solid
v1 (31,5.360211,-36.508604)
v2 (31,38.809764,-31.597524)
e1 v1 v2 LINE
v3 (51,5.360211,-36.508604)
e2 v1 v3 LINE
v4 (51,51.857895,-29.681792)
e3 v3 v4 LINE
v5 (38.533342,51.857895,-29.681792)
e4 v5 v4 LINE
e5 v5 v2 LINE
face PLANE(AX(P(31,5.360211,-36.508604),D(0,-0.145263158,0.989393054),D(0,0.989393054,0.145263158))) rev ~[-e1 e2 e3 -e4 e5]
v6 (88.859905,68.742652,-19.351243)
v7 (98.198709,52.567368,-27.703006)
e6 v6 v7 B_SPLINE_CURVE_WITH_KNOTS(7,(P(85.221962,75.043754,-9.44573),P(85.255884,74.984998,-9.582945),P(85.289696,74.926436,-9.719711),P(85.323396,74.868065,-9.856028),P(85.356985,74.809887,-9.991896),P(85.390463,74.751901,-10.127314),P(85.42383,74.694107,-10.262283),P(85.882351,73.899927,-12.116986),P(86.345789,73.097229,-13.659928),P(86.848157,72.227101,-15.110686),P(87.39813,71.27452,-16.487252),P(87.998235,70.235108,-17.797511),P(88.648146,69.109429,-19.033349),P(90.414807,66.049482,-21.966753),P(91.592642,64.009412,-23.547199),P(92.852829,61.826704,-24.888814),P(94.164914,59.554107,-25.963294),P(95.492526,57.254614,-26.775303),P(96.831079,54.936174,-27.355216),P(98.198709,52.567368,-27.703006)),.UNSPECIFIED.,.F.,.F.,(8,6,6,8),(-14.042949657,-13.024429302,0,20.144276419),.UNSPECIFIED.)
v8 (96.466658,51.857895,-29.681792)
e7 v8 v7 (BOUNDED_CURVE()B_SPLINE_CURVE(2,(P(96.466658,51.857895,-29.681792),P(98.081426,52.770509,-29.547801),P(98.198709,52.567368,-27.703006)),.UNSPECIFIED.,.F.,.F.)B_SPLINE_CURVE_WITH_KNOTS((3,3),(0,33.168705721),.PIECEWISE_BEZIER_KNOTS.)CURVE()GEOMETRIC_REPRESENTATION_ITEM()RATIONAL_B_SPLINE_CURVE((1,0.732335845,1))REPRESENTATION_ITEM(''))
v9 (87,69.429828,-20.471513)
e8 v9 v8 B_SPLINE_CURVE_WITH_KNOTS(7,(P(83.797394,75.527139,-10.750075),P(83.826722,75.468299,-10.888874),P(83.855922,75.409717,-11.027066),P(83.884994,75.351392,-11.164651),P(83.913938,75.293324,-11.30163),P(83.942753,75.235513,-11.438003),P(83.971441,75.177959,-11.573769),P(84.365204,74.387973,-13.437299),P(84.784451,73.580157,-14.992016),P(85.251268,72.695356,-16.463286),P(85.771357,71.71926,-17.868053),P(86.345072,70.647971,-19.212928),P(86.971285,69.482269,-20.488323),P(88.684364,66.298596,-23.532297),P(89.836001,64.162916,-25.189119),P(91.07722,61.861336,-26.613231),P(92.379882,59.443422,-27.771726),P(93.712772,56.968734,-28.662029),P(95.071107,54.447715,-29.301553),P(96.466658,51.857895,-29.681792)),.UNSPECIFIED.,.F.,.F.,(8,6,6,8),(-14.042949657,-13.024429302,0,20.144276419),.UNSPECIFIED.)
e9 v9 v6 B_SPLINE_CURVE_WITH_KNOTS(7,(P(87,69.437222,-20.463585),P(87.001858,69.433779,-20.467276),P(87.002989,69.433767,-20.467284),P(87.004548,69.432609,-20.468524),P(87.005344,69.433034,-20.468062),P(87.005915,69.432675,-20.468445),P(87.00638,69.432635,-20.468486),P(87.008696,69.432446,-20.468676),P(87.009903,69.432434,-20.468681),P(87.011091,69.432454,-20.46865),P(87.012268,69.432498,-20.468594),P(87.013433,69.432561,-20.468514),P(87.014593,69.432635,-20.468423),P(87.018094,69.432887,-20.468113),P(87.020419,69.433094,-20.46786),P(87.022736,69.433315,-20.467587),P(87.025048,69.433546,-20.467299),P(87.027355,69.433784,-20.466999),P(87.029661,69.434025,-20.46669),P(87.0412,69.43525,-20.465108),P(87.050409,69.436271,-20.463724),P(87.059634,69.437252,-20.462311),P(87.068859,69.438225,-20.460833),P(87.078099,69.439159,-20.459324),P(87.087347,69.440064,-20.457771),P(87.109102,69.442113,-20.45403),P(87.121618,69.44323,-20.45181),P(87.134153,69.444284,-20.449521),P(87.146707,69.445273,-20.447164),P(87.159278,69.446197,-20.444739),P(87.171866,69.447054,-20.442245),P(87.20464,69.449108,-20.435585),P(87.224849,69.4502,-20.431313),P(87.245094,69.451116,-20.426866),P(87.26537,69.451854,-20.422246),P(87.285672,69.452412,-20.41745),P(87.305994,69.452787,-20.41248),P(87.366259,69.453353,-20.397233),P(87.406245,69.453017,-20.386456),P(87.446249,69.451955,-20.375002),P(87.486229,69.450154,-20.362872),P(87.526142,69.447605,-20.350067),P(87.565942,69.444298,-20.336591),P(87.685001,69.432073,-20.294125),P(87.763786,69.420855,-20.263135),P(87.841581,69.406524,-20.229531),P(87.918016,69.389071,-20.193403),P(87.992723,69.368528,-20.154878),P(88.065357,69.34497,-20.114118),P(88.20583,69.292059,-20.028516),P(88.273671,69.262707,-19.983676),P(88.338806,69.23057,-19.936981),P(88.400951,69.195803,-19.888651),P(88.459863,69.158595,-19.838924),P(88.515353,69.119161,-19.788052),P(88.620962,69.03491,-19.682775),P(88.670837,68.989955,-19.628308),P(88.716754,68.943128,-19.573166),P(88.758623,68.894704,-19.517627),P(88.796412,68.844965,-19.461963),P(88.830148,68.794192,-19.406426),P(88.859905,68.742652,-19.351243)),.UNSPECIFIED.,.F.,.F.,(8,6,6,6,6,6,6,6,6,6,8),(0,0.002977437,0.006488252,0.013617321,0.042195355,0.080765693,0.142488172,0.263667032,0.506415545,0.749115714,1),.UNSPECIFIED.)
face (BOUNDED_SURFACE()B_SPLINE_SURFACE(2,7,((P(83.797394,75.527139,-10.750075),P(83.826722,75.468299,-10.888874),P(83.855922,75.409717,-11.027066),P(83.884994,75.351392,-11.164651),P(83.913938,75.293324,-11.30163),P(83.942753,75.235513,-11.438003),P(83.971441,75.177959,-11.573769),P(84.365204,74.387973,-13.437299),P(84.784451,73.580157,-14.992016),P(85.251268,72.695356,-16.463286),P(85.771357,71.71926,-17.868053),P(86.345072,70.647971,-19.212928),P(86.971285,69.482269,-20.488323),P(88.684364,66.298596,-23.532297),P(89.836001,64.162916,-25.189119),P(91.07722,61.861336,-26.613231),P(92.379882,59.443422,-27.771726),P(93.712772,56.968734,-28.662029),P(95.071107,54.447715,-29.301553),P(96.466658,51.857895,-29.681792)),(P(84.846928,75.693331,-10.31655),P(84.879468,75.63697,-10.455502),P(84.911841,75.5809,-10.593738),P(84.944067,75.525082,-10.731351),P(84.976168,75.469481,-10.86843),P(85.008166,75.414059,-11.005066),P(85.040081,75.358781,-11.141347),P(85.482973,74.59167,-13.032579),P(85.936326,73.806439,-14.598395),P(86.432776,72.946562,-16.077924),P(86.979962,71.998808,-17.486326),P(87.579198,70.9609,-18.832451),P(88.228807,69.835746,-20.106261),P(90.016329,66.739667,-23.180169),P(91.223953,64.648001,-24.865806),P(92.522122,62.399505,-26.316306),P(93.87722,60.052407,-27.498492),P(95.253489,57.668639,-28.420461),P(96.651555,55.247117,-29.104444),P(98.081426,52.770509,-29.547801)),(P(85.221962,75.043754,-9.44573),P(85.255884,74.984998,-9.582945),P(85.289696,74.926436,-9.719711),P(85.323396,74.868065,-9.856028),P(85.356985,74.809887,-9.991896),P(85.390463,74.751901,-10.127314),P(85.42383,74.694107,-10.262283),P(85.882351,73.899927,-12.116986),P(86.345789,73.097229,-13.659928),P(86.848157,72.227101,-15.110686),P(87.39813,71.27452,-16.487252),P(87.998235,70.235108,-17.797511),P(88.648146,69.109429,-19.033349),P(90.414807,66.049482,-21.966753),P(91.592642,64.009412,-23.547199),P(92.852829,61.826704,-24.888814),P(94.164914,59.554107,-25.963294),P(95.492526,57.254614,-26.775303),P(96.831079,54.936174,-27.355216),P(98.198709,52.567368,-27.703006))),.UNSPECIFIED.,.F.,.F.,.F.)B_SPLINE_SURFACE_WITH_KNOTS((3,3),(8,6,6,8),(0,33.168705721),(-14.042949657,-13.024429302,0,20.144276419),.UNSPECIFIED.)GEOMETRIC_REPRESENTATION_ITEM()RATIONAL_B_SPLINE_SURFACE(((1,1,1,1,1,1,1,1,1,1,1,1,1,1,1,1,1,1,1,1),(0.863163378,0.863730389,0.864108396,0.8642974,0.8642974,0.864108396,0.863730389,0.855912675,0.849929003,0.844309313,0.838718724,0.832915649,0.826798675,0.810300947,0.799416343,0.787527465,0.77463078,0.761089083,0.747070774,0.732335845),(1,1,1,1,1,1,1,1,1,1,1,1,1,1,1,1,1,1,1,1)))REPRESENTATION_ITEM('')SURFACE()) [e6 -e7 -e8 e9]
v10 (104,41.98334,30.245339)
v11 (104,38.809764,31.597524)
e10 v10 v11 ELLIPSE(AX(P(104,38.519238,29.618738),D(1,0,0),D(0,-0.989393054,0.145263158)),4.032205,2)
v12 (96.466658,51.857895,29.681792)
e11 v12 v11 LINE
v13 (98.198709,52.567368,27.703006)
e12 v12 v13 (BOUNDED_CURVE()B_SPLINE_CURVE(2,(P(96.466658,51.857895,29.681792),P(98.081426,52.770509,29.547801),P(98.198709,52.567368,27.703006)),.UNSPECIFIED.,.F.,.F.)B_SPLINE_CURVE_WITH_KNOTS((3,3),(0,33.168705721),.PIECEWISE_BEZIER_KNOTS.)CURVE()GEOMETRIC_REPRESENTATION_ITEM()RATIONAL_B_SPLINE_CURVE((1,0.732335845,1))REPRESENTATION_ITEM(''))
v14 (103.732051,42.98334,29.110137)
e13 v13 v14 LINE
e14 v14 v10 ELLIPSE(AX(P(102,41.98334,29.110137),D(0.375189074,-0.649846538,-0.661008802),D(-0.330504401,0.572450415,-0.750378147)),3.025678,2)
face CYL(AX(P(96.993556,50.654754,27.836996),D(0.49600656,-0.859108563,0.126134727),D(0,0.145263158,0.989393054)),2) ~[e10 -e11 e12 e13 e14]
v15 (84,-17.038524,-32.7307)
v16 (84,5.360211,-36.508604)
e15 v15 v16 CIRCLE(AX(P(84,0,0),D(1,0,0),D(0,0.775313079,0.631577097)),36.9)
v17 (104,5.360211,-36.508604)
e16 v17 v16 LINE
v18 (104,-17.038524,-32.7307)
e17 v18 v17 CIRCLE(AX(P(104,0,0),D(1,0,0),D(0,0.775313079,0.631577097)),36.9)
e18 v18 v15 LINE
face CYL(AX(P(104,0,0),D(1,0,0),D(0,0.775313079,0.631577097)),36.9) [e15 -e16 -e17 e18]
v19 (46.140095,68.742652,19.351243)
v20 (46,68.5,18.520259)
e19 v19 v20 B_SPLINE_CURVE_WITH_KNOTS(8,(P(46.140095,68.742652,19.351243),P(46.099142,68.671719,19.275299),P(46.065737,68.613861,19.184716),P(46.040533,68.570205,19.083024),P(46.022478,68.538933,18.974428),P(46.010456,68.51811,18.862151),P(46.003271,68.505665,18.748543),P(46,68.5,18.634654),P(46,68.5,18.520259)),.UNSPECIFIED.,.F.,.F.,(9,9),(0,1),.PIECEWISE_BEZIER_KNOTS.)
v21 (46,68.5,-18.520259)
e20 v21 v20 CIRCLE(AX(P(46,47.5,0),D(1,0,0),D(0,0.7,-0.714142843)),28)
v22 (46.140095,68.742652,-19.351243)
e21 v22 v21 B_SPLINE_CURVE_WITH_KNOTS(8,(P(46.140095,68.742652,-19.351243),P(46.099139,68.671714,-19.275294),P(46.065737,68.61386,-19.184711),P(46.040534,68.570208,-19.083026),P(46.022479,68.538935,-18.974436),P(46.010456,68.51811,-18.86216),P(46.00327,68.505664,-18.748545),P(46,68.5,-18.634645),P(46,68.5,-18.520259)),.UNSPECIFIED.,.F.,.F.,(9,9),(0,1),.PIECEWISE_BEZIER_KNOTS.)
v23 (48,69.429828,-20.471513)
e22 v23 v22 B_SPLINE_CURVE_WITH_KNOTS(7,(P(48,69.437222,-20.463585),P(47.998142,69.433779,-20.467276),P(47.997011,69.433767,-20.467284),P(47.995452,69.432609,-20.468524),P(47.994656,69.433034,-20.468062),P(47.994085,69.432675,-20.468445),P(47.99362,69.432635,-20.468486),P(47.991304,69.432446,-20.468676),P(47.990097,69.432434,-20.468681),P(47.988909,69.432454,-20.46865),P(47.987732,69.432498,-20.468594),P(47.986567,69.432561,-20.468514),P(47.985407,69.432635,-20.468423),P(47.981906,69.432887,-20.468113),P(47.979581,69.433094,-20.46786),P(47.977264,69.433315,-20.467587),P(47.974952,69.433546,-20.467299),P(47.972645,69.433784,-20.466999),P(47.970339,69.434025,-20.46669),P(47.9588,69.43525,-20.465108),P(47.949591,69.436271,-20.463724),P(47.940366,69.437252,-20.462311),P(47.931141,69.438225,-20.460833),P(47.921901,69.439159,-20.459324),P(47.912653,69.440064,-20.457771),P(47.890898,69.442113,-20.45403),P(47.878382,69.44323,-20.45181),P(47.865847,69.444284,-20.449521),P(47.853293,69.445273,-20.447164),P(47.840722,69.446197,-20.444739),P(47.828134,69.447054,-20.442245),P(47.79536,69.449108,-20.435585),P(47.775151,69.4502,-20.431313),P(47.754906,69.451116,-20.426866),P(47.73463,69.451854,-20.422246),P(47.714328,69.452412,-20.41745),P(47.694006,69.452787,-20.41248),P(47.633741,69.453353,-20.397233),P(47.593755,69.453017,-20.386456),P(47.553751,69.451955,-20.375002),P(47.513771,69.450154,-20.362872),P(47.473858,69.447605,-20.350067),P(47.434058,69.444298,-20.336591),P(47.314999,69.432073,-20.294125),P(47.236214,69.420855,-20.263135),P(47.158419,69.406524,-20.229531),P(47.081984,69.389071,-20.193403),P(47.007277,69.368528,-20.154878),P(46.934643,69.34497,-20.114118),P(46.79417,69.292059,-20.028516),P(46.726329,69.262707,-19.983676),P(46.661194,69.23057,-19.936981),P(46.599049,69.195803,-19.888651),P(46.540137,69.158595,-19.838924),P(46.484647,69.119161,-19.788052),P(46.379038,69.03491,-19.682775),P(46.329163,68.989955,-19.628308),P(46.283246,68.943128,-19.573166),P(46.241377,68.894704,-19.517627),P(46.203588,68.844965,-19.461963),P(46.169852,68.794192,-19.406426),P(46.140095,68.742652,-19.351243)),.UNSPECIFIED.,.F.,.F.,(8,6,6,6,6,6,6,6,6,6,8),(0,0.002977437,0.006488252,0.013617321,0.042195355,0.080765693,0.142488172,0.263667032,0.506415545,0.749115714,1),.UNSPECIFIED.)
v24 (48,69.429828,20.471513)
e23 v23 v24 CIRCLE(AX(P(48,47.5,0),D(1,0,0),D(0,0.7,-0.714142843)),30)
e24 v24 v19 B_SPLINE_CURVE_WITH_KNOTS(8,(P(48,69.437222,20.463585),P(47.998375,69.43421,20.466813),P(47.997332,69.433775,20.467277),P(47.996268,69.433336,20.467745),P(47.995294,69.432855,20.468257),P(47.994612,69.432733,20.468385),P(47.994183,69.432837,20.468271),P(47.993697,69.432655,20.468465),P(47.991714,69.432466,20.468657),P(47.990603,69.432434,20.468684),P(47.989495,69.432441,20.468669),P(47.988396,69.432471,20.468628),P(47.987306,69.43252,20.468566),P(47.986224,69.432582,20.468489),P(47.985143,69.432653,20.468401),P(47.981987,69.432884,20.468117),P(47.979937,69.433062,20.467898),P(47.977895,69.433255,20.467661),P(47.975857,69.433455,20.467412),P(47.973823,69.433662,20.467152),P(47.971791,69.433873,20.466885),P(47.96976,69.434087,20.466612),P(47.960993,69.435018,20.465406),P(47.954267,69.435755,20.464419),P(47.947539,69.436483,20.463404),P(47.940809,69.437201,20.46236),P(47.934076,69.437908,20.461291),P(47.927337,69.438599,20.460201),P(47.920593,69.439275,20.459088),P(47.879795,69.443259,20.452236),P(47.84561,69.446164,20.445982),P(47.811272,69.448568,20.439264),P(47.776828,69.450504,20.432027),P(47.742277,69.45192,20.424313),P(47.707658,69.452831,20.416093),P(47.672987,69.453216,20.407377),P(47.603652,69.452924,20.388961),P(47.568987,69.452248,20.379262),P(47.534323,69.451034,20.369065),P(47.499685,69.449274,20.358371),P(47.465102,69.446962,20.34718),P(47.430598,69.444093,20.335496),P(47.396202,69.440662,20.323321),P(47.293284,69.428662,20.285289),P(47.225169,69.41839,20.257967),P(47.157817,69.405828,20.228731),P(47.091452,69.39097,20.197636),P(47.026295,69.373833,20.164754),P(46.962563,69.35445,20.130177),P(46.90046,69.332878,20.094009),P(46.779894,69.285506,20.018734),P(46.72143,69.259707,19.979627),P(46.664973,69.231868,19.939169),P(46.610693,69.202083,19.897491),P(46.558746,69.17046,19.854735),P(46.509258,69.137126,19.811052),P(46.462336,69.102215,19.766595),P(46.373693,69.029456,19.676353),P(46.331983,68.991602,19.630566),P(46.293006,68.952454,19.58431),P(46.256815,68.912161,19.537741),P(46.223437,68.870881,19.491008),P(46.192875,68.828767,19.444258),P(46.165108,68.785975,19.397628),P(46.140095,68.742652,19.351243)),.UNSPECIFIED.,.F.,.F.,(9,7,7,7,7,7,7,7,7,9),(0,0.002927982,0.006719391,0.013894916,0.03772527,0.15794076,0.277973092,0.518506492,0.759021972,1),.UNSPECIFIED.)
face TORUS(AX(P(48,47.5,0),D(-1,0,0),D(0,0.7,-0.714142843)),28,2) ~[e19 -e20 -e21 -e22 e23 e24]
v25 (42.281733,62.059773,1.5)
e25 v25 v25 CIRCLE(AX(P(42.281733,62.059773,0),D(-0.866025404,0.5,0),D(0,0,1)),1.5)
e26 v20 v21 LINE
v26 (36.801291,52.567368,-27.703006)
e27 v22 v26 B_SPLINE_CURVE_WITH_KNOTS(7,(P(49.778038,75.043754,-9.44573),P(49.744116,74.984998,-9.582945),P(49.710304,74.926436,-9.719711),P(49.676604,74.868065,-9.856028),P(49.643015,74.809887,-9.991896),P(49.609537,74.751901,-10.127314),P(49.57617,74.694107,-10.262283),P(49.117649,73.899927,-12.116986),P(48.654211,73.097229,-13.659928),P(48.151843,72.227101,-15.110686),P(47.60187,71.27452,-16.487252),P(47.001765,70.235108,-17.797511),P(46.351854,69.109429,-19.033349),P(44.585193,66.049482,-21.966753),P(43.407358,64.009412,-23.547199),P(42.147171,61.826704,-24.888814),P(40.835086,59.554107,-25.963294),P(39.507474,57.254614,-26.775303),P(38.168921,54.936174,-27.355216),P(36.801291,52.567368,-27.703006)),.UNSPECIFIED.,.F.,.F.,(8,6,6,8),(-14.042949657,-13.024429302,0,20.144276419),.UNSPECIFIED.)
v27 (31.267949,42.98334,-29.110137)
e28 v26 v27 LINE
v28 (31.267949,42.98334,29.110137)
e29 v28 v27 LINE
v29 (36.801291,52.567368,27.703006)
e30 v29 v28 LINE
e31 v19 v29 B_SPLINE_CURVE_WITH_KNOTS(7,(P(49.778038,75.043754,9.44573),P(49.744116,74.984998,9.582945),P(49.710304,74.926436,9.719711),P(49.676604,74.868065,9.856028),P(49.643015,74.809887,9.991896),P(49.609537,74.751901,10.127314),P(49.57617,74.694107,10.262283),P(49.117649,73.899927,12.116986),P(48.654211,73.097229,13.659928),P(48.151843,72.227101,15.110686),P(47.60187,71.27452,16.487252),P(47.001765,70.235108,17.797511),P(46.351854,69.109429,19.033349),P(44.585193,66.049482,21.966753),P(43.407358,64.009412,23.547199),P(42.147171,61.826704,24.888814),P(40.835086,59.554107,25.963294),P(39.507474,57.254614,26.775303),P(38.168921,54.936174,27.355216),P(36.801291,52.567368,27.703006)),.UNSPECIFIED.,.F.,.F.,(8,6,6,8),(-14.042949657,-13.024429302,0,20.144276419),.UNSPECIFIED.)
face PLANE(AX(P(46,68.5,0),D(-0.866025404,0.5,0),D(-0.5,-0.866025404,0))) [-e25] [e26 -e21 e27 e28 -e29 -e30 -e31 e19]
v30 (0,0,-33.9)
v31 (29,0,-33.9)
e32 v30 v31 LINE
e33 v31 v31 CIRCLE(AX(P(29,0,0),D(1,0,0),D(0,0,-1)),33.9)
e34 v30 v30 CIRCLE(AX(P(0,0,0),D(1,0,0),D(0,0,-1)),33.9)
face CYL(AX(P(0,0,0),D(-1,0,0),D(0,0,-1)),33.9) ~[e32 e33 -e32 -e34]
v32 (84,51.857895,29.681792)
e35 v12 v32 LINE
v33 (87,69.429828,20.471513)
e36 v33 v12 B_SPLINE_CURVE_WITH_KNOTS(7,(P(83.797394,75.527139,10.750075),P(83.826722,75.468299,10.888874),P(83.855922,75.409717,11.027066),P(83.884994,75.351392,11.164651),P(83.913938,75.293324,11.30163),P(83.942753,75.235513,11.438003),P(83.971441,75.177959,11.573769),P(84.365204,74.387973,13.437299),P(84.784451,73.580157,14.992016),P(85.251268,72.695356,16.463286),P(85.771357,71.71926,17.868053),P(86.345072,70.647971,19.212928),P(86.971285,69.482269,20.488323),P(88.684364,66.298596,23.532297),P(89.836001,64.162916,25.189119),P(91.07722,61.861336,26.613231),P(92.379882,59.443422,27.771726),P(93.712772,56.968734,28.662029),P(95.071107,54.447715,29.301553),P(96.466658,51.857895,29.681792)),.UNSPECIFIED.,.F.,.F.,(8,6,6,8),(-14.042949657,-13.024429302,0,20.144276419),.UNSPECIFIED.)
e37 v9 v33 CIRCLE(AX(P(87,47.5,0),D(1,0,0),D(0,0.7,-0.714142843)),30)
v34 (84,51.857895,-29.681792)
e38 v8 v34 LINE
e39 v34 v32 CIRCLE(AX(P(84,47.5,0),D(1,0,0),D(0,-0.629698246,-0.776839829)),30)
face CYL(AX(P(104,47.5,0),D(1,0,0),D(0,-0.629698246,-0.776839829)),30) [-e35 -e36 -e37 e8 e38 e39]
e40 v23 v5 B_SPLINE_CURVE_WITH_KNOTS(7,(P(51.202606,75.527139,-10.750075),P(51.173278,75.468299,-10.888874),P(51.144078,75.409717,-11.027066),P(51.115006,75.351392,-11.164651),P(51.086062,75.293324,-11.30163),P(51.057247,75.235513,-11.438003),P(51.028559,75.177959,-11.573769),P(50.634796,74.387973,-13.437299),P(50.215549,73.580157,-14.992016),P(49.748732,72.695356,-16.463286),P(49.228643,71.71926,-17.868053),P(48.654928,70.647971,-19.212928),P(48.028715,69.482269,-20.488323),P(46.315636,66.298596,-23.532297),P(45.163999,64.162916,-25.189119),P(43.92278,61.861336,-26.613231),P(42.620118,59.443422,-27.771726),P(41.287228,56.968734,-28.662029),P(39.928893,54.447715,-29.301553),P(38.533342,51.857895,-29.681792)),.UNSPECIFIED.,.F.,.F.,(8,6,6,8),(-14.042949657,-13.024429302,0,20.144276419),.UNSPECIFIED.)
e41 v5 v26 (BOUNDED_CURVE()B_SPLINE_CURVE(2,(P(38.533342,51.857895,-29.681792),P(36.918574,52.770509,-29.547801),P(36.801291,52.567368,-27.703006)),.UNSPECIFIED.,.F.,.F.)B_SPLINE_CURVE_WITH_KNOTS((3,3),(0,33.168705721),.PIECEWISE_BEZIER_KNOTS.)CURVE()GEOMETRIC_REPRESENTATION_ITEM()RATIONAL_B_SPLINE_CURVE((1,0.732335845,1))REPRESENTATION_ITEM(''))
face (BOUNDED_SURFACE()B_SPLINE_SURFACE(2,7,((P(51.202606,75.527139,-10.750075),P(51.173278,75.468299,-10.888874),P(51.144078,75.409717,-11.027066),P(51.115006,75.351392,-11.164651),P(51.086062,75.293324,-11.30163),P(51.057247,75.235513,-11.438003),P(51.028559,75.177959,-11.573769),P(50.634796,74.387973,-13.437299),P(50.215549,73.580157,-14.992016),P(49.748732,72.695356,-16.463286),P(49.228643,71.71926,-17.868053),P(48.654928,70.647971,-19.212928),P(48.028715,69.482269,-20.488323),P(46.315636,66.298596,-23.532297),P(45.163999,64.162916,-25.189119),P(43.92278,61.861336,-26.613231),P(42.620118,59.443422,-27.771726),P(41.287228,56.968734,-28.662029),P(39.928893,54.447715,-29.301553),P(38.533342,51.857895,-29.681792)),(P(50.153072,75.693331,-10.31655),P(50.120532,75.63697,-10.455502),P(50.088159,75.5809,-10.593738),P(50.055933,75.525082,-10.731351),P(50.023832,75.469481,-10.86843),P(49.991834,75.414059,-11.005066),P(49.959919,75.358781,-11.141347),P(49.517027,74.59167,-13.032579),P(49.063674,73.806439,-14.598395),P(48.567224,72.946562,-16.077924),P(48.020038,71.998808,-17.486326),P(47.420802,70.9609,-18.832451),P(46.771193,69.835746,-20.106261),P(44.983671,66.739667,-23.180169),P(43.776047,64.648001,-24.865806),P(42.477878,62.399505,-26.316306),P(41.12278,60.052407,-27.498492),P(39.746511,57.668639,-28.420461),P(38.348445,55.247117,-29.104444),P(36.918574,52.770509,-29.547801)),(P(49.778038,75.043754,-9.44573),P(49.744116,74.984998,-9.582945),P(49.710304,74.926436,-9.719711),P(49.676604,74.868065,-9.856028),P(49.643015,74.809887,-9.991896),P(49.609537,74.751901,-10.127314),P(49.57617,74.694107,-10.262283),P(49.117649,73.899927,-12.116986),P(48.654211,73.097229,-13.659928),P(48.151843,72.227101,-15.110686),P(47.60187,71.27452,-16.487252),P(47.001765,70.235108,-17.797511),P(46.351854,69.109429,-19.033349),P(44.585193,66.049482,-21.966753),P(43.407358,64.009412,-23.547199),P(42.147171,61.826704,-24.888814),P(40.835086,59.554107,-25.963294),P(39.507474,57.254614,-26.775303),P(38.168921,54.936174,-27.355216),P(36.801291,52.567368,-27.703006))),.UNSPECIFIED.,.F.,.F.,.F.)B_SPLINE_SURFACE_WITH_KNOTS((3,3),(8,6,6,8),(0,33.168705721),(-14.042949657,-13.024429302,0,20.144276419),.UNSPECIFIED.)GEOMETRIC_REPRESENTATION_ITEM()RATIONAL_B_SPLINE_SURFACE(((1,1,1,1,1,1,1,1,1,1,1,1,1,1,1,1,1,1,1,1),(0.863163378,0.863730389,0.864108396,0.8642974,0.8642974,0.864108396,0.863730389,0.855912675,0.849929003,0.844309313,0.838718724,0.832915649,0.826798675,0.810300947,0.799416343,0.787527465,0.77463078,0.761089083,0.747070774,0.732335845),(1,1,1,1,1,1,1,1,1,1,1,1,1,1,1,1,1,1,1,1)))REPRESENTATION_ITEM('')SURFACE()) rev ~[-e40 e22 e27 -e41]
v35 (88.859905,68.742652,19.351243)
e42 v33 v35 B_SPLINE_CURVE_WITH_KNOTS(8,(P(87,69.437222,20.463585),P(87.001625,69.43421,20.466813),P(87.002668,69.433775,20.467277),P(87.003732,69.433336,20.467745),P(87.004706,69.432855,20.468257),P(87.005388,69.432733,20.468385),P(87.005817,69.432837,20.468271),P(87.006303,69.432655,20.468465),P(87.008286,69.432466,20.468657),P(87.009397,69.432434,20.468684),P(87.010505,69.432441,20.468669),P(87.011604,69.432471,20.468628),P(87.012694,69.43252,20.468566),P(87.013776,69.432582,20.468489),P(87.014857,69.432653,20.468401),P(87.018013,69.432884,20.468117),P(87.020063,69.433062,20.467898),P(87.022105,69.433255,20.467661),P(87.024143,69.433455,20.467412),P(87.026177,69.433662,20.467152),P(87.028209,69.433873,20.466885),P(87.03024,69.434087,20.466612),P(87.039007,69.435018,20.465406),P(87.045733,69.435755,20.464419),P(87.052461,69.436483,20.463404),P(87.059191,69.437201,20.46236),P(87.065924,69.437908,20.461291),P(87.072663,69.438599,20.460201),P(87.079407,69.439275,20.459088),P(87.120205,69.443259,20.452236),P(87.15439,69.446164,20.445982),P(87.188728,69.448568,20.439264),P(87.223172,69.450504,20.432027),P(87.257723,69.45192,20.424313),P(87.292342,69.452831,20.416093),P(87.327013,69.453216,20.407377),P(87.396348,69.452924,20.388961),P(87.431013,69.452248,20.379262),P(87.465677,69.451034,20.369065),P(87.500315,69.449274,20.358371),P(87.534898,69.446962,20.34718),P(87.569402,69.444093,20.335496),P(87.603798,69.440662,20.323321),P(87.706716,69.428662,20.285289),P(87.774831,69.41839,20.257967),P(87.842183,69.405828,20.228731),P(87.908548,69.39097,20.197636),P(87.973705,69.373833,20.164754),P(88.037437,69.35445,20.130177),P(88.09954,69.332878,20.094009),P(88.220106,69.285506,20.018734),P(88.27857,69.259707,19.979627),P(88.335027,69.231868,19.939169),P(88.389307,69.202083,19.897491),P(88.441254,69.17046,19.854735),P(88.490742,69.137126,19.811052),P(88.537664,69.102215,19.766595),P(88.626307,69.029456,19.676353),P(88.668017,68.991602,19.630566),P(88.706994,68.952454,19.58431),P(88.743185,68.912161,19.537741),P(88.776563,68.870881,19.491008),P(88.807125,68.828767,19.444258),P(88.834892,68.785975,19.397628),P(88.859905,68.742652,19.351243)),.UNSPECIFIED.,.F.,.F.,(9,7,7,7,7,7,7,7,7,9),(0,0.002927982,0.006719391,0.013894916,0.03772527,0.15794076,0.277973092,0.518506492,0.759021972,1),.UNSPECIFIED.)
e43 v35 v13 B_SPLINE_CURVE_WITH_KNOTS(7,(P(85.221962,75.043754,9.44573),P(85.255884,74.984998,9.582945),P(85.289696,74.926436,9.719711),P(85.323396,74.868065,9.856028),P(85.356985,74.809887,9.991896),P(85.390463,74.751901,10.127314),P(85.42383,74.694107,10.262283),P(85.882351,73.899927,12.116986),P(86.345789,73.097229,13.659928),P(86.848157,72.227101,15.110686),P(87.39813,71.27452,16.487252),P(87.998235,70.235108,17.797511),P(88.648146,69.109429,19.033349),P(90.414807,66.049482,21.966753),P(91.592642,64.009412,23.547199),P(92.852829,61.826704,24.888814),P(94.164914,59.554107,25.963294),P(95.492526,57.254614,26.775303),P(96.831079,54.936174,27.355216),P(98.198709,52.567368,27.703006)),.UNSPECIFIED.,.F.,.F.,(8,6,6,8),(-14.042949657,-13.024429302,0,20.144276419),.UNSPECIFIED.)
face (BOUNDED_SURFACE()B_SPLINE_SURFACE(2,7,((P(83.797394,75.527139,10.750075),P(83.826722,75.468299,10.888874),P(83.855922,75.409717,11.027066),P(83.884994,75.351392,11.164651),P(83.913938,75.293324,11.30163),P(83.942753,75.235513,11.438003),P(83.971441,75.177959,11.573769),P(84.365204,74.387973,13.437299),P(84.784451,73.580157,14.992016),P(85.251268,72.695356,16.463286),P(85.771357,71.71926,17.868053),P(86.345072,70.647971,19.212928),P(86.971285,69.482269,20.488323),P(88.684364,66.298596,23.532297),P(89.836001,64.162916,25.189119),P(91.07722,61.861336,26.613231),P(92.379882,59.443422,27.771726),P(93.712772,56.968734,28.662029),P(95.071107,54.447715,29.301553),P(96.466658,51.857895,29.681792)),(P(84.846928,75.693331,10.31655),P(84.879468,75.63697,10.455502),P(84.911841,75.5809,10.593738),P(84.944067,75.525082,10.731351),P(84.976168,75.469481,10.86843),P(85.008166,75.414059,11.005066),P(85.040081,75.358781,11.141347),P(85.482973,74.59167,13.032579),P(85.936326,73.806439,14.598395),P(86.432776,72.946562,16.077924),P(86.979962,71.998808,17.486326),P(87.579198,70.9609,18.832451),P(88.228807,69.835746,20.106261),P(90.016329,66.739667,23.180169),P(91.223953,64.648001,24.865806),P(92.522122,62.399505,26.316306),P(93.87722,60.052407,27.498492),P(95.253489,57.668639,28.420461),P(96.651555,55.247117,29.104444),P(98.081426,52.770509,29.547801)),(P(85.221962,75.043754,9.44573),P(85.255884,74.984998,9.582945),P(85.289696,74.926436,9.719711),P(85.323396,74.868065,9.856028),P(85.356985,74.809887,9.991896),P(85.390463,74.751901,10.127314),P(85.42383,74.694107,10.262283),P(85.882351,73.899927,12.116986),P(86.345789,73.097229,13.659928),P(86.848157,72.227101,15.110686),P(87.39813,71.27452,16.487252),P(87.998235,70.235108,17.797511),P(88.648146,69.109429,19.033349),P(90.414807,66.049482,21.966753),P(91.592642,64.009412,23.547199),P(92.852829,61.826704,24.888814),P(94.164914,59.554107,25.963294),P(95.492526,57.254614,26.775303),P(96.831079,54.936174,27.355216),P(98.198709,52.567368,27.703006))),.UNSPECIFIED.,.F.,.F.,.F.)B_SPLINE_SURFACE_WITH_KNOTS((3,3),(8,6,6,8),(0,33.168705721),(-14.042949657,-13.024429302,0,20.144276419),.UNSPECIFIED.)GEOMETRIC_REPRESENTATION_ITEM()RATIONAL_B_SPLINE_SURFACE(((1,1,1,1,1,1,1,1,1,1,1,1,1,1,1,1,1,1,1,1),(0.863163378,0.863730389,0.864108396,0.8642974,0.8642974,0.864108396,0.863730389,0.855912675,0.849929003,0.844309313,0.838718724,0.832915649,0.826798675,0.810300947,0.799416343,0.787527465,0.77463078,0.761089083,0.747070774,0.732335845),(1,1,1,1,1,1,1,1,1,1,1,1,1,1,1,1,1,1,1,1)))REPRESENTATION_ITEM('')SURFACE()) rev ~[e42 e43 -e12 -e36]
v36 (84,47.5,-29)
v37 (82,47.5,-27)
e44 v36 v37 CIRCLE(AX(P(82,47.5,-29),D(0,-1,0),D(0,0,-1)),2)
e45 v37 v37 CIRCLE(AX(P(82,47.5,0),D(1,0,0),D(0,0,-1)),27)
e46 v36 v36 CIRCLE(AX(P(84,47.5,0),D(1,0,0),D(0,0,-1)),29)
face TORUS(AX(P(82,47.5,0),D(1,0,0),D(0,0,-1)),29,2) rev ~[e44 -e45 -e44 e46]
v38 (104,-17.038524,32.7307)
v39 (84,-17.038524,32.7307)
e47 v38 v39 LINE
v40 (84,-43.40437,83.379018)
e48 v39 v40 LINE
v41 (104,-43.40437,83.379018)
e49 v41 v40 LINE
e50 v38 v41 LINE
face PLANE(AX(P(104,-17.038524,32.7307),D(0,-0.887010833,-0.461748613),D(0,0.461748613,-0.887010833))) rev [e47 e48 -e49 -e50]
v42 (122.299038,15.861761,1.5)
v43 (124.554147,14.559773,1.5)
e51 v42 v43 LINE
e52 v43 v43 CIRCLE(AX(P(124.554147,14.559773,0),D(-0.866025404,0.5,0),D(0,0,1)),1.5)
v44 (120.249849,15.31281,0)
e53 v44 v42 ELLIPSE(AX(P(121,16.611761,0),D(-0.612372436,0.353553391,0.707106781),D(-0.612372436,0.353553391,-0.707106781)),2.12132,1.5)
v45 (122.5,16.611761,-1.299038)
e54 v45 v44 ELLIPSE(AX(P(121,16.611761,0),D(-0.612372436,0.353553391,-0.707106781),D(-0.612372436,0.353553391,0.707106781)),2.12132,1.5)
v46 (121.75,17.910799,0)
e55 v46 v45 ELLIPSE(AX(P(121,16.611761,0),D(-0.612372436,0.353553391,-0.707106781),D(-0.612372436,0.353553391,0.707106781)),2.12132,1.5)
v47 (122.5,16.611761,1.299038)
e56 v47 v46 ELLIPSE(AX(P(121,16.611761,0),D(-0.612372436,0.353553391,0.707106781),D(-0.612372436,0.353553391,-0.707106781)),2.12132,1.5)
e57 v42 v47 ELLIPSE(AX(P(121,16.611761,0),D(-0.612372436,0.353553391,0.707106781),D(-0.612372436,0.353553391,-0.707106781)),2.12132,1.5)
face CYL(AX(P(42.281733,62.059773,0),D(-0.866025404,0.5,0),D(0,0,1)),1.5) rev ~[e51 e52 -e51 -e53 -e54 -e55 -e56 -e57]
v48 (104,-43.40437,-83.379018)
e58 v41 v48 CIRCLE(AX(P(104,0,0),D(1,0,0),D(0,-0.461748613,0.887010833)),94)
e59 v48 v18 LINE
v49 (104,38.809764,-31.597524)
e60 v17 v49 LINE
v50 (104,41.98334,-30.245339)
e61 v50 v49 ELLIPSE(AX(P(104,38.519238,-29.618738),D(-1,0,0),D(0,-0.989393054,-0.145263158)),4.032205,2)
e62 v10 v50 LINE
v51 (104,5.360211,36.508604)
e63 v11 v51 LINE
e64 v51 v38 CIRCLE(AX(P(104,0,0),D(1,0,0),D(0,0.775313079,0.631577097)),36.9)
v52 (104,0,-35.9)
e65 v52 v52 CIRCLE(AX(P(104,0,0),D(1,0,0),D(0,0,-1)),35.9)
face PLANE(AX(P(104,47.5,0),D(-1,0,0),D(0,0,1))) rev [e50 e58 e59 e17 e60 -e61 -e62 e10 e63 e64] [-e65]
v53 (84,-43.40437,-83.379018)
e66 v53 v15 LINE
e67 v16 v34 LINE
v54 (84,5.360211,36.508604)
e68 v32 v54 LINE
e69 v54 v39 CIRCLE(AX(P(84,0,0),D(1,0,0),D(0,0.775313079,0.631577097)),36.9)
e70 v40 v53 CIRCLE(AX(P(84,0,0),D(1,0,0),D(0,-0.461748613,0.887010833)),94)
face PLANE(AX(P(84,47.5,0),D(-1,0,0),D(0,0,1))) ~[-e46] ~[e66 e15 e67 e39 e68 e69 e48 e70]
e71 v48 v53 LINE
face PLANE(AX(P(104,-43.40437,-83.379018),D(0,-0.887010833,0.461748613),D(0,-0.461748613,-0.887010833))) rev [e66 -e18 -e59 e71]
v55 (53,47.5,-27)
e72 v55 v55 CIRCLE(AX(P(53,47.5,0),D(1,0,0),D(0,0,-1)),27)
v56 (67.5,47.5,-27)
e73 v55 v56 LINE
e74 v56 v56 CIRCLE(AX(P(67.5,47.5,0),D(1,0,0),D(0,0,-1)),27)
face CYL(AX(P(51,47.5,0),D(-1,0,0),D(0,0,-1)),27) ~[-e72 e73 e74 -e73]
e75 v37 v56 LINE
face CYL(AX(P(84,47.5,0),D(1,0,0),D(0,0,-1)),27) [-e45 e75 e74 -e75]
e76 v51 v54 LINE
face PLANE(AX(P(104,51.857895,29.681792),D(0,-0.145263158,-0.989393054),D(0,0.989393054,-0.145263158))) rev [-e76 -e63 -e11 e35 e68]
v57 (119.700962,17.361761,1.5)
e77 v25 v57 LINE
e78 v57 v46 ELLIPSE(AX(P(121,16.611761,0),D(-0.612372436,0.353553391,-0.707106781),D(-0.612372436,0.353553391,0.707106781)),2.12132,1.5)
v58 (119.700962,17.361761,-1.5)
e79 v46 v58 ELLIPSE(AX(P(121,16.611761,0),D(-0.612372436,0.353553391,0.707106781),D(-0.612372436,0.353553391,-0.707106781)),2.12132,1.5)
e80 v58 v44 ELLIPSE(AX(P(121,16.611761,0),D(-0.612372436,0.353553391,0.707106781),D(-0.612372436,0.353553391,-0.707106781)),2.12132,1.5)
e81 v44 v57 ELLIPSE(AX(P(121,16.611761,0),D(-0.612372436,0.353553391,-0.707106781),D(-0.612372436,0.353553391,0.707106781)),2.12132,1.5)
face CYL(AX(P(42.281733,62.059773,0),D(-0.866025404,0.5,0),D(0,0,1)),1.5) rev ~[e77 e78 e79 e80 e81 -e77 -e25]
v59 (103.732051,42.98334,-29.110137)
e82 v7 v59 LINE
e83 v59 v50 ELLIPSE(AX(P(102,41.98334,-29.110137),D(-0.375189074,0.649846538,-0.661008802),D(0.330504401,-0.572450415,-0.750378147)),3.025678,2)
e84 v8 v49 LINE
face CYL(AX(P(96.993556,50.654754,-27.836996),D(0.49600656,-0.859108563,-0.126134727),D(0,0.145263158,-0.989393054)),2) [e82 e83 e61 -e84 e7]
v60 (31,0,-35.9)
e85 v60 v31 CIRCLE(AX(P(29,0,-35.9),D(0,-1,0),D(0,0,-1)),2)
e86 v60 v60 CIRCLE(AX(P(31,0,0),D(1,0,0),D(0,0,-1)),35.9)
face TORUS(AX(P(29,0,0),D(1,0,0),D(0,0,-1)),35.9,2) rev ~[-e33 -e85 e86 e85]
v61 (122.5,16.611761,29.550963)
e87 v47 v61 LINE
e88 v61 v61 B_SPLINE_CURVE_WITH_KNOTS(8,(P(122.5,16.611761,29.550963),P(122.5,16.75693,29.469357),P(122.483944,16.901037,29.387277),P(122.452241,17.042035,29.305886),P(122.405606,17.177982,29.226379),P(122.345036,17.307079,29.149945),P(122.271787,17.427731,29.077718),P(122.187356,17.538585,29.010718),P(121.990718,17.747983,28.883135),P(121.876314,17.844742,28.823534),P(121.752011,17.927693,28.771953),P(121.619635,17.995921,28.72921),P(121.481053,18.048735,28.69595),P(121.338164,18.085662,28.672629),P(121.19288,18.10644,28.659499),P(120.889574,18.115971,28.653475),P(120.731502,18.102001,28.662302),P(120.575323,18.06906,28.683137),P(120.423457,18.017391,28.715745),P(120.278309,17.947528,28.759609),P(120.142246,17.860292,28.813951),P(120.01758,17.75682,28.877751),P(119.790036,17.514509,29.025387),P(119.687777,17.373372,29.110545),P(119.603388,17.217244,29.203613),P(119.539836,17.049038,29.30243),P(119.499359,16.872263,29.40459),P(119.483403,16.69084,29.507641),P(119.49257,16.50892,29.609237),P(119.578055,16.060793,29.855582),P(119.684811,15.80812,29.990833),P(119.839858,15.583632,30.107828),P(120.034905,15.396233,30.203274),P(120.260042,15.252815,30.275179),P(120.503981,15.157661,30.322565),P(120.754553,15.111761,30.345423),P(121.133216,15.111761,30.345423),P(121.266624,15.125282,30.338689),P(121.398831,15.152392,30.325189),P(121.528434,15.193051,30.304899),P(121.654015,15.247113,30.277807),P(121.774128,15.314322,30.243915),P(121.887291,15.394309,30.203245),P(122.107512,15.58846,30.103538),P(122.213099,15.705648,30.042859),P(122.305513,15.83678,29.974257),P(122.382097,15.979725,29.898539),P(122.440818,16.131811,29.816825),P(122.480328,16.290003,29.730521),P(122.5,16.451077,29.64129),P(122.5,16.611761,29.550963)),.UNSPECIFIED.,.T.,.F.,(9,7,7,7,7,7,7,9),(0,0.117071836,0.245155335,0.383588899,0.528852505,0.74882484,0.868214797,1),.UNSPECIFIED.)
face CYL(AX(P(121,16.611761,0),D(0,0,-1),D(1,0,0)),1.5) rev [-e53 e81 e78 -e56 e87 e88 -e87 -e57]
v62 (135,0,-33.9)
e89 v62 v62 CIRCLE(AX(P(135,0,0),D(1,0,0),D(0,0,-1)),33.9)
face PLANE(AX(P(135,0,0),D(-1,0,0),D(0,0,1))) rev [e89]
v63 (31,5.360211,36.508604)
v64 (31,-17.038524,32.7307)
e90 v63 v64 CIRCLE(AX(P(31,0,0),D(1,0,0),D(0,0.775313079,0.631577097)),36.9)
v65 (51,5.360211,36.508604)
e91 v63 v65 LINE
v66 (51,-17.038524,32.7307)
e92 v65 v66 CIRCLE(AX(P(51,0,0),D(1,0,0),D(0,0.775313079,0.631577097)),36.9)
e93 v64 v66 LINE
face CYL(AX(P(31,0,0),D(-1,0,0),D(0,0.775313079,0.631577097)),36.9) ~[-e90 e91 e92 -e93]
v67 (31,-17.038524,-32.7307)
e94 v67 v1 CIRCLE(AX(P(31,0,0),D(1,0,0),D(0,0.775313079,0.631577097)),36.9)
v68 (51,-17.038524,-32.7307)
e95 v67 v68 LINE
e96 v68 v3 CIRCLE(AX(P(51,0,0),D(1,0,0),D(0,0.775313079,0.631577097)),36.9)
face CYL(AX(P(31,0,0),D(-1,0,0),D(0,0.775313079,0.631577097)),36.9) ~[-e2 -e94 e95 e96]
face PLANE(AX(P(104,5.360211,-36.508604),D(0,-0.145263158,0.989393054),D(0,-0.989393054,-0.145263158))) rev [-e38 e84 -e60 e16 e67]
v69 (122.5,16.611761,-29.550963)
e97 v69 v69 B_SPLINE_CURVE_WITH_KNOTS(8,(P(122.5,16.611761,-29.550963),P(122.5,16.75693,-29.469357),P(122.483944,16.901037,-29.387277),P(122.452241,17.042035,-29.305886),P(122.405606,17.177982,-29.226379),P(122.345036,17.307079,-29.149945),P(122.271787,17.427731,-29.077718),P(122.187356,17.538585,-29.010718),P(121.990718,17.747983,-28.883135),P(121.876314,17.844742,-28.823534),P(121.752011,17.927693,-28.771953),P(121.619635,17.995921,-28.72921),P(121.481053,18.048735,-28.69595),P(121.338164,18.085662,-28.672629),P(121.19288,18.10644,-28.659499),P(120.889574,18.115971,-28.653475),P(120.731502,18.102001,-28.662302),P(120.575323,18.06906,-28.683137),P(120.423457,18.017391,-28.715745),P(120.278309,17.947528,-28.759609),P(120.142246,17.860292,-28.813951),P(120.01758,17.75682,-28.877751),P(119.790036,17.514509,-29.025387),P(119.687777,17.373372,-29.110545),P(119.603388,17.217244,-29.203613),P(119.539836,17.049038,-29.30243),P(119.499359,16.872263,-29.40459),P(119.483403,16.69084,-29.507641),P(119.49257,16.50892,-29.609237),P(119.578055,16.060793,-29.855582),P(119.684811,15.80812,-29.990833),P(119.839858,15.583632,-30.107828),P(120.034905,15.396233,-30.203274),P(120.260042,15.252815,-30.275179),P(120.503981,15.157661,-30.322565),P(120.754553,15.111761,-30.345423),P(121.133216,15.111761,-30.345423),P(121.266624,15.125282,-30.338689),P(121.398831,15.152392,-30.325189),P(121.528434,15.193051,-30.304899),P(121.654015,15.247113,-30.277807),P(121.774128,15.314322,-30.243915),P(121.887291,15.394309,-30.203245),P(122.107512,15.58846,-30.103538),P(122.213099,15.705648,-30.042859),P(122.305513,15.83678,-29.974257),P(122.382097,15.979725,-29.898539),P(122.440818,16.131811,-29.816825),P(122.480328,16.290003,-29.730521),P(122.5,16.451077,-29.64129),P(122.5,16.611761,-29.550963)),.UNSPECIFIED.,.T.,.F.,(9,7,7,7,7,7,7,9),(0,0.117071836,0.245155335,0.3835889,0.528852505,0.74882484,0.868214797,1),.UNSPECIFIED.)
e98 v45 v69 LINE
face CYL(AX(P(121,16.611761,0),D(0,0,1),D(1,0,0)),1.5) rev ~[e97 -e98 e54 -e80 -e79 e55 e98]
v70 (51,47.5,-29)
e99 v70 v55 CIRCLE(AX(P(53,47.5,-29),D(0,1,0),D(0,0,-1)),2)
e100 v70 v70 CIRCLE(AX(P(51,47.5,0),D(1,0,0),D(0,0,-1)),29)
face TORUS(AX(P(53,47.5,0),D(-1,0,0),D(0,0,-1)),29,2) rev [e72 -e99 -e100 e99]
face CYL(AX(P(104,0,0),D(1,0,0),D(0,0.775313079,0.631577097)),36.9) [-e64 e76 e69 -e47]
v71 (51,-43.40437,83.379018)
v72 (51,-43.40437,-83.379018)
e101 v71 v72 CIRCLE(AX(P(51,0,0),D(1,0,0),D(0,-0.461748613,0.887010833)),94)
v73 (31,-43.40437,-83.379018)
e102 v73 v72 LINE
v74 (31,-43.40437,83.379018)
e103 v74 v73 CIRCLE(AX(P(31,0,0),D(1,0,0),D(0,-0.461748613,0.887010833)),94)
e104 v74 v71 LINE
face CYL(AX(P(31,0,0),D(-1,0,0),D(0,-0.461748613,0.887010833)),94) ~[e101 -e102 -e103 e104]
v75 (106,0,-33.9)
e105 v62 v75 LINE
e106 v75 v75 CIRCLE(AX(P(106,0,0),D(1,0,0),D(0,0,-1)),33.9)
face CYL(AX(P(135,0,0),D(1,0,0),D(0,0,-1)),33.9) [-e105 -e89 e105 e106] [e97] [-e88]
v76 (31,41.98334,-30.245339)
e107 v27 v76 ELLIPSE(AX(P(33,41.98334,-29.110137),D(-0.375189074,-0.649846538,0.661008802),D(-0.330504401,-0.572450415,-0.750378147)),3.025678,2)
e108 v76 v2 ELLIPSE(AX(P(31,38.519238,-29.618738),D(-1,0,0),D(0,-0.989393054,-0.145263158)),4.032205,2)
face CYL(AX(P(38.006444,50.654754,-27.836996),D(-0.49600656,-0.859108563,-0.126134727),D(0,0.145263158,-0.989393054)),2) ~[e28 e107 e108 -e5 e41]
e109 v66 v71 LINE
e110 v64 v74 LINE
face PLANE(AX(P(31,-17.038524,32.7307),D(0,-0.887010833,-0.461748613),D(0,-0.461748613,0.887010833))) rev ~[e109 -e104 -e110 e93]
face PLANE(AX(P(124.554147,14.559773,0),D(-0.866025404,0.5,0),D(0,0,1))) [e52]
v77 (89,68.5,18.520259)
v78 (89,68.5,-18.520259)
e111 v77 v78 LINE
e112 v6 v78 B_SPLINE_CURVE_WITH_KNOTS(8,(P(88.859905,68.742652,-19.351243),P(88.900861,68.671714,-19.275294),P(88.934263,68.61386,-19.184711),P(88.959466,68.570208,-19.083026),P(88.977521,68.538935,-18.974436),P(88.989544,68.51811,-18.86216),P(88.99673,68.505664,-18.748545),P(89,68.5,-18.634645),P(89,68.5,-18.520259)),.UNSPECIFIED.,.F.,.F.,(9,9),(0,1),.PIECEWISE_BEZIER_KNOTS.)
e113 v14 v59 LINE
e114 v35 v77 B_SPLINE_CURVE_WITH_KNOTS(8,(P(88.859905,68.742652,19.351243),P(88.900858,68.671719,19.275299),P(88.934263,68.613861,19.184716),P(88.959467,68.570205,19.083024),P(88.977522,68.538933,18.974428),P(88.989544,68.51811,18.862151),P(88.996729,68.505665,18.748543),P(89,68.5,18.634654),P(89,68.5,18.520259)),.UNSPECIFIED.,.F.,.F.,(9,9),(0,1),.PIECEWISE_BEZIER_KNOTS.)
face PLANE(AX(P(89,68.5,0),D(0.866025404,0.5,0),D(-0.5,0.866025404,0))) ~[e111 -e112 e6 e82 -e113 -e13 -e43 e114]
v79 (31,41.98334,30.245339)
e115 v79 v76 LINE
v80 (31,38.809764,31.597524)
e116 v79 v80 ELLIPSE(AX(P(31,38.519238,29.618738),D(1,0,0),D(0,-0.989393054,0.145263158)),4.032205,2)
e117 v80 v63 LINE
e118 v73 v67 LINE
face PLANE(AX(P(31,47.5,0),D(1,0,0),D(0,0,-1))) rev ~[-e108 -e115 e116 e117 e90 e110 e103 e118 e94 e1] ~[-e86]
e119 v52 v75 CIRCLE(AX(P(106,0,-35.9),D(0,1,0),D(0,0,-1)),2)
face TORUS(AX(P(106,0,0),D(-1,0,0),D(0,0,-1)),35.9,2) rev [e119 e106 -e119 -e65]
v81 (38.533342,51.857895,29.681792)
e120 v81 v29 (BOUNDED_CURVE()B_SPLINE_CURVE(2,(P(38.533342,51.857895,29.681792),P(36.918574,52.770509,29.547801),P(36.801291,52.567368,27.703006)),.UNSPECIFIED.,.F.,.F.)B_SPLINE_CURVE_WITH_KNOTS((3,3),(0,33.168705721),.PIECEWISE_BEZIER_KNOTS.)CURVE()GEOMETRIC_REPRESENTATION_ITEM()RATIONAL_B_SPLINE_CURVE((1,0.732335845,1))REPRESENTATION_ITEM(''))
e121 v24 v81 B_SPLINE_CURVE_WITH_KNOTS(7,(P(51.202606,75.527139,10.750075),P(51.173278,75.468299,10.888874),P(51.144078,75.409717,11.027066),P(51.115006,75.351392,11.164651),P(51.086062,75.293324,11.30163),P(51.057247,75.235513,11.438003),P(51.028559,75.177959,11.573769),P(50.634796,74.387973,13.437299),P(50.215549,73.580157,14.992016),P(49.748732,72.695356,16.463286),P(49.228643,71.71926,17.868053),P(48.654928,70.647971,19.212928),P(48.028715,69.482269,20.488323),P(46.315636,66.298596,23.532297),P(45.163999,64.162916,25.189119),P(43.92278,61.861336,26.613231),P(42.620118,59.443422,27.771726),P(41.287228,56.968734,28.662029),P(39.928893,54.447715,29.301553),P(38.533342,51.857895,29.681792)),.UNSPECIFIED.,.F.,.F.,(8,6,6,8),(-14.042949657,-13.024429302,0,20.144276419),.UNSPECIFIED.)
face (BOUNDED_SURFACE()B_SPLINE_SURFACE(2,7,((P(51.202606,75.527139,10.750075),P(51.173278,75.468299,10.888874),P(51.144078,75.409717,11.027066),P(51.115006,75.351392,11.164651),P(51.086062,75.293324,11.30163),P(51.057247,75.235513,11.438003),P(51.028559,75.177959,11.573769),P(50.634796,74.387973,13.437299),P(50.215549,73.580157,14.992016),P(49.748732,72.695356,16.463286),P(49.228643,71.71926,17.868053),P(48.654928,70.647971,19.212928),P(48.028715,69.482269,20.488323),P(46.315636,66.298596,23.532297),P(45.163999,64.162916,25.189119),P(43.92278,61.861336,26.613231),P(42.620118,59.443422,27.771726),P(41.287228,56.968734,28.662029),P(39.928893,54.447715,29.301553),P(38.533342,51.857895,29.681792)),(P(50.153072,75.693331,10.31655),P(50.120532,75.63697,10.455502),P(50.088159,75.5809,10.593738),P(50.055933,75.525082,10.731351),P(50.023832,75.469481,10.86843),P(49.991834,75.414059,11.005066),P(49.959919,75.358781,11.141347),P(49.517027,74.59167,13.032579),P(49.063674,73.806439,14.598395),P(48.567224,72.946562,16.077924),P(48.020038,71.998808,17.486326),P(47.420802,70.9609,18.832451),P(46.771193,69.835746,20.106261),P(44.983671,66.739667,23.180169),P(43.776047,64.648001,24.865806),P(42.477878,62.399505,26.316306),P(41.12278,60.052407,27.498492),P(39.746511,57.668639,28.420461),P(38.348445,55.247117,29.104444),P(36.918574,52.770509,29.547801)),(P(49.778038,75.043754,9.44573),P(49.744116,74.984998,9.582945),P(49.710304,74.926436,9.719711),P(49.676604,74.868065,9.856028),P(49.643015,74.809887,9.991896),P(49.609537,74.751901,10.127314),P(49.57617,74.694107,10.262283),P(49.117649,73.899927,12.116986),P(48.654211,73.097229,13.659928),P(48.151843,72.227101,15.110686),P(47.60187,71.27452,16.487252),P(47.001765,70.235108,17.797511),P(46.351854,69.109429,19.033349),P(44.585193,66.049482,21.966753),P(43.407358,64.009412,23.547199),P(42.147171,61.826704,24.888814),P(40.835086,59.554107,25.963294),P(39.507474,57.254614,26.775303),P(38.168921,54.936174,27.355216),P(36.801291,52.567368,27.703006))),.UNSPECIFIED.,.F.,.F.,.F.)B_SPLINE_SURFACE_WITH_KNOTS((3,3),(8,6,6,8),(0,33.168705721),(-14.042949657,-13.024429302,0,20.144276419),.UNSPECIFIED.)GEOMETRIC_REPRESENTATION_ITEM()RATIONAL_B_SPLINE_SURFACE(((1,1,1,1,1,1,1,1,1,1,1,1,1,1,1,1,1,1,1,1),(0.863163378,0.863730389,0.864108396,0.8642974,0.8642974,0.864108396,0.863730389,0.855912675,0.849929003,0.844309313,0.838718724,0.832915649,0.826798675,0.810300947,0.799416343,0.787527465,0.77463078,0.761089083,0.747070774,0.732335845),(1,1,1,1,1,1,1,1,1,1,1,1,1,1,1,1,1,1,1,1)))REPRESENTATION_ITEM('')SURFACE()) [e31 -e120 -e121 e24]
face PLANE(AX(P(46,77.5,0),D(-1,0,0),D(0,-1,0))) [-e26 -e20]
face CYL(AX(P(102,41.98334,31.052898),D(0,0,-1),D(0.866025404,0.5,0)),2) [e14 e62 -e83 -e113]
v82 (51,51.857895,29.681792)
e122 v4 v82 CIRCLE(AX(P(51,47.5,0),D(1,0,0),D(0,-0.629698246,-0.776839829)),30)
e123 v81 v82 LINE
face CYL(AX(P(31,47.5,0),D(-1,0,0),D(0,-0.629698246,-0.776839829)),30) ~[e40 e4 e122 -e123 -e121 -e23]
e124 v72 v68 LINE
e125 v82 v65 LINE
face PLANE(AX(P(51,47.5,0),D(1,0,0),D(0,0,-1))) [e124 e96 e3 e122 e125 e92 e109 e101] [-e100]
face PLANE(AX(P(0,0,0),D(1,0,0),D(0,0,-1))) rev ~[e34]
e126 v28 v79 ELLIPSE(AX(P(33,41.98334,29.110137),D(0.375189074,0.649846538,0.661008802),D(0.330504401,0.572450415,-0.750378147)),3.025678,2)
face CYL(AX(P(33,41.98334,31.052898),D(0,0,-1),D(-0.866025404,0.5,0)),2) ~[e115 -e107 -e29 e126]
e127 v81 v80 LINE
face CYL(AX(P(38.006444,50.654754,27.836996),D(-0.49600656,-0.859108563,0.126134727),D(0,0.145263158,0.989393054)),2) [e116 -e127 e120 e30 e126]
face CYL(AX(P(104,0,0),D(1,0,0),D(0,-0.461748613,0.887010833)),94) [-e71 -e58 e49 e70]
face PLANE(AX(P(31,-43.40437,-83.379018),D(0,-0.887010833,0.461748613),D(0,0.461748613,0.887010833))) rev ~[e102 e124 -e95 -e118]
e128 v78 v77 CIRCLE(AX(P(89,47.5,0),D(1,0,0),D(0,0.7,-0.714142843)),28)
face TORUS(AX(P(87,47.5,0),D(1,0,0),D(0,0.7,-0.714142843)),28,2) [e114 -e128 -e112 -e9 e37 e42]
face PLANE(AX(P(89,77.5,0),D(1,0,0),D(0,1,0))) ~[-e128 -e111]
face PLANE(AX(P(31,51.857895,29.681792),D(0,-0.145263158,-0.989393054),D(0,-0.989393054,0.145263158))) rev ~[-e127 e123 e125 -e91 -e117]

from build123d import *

# Parameters (mm, degrees)
SKETCH_3_R               = 33.9
EXTRUDE_1_DEPTH          = 31
SKETCH_4_R               = 30
SKETCH_4_R_2             = 36.9
SKETCH_4_R_3             = 33.9
EXTRUDE_2_DEPTH          = 20
CUT_EXTRUDE_1_DEPTH      = 84.379018319
CUT_EXTRUDE_1_DEPTH_BACK = 84.379018319
FILLET_1_R               = 2
SKETCH_5_R               = 27
EXTRUDE_3_DEPTH          = 16.5
FILLET_2_R               = 2
FILLET_3_R               = 2
SKETCH_12_R              = 1.5
CUT_EXTRUDE_5_DEPTH      = 95
SKETCH_14_R              = 1.5
CUT_EXTRUDE_6_DEPTH      = 84.379018319
CUT_EXTRUDE_6_DEPTH_BACK = 84.379018319


with BuildPart() as part:
    # Эскиз3 → Бобышка-Вытянуть1 (new body)
    with BuildSketch(Plane(origin=(0, 0, 0), x_dir=(0, 0, -1), z_dir=(1, 0, 0))):
        Circle(SKETCH_3_R)
    extrude(amount=EXTRUDE_1_DEPTH)

    # Эскиз4 → Бобышка-Вытянуть2 (add)
    with BuildSketch(Plane(origin=(31, 0, 0), x_dir=(0, 0, -1), z_dir=(1, 0, 0))):
        with Locations((0, 47.5)):
            Circle(SKETCH_4_R)
        Circle(SKETCH_4_R_2)
        Circle(SKETCH_4_R_2)
        Circle(SKETCH_4_R_3, mode=Mode.SUBTRACT)
        Circle(SKETCH_4_R_3)
        with BuildLine():
            Line((36.508603686, 5.360210526), (29.681791615, 51.857894737))
            ThreePointArc((29.681791615, 51.857894737), (29.920342147, 49.684748447), (30, 47.5))
            ThreePointArc((30, 47.5), (28.276808924, 37.478918368), (23.305194861, 28.609052632))
            ThreePointArc((23.305194861, 28.609052632), (32.086598277, 18.222519338), (36.508603686, 5.360210526))
        make_face()
        with BuildLine():
            ThreePointArc((-23.305194861, 28.609052632), (-28.931511346, 39.564784109), (-29.681791615, 51.857894737))
            Line((-29.681791615, 51.857894737), (-36.508603686, 5.360210526))
            ThreePointArc((-36.508603686, 5.360210526), (-32.086598277, 18.222519338), (-23.305194861, 28.609052632))
        make_face()
        with BuildLine():
            Line((83.379018319, -43.404369644), (0, 0))
            Line((0, 0), (-83.379018319, -43.404369644))
            ThreePointArc((-83.379018319, -43.404369644), (0, -94), (83.379018319, -43.404369644))
        make_face()
    extrude(amount=EXTRUDE_2_DEPTH)

    # Эскиз6 → Вырез-Вытянуть1 (cut, two sides)
    with BuildSketch(Plane.XY) as cut_extrude_1_sk:
        Polygon((31, 77.5), (46, 77.5), (46, 68.5), (31, 42.519237886), align=None)
    extrude(amount=CUT_EXTRUDE_1_DEPTH, mode=Mode.SUBTRACT)
    extrude(cut_extrude_1_sk.sketch, amount=-CUT_EXTRUDE_1_DEPTH_BACK, mode=Mode.SUBTRACT)

    # Скругление1
    fillet_1_edges = [part.edges().sort_by_distance(p)[0] for p in [
        (33.695838023, 47.188566312, 30.367344631),
        (46, 77.5, 0),
        (31, 42.519237886, 0),
        (33.695838023, 47.188566312, -30.367344631),
        (41.495902656, 60.698674559, -26.940582583),
        (41.495902656, 60.698674559, 26.940582583),
    ]]
    fillet(fillet_1_edges, radius=FILLET_1_R)

    # Эскиз5 → Бобышка-Вытянуть3 (add)
    with BuildSketch(Plane(origin=(51, 0, 0), x_dir=(0, 0, -1), z_dir=(1, 0, 0))):
        with Locations((0, 47.5)):
            Circle(SKETCH_5_R)
    extrude(amount=EXTRUDE_3_DEPTH)

    # Скругление2
    fillet_2_edges = [part.edges().sort_by_distance(p)[0] for p in [
        (51, 47.5, 27),
    ]]
    fillet(fillet_2_edges, radius=FILLET_2_R)

    # Скругление3
    fillet_3_edges = [part.edges().sort_by_distance(p)[0] for p in [
        (31, 0, 33.9),
    ]]
    fillet(fillet_3_edges, radius=FILLET_3_R)

    # Зеркальное отражение4: part across plane


with BuildPart() as part_1:
    add(part.part)
    add(part.part.mirror(Plane(origin=(67.5, 47.5, 0), x_dir=(0, 0, 1), z_dir=(1, 0, 0))))

    # Эскиз12 → Вырез-Вытянуть5 (cut)
    with BuildSketch(Plane(origin=(4.83862992, -2.793584287, 0), x_dir=(0, 0, 1), z_dir=(-0.866025404, 0.5, 0))):
        with Locations((0, 74.88620668)):
            Circle(SKETCH_12_R)
    extrude(amount=-CUT_EXTRUDE_5_DEPTH, mode=Mode.SUBTRACT)

    # Эскиз14 → Вырез-Вытянуть6 (cut, two sides)
    with BuildSketch(Plane.XY) as cut_extrude_6_sk:
        with Locations((121, 16.611760598)):
            Circle(SKETCH_14_R)
    extrude(amount=CUT_EXTRUDE_6_DEPTH, mode=Mode.SUBTRACT)
    extrude(cut_extrude_6_sk.sketch, amount=-CUT_EXTRUDE_6_DEPTH_BACK, mode=Mode.SUBTRACT)


solid = part_1.part
